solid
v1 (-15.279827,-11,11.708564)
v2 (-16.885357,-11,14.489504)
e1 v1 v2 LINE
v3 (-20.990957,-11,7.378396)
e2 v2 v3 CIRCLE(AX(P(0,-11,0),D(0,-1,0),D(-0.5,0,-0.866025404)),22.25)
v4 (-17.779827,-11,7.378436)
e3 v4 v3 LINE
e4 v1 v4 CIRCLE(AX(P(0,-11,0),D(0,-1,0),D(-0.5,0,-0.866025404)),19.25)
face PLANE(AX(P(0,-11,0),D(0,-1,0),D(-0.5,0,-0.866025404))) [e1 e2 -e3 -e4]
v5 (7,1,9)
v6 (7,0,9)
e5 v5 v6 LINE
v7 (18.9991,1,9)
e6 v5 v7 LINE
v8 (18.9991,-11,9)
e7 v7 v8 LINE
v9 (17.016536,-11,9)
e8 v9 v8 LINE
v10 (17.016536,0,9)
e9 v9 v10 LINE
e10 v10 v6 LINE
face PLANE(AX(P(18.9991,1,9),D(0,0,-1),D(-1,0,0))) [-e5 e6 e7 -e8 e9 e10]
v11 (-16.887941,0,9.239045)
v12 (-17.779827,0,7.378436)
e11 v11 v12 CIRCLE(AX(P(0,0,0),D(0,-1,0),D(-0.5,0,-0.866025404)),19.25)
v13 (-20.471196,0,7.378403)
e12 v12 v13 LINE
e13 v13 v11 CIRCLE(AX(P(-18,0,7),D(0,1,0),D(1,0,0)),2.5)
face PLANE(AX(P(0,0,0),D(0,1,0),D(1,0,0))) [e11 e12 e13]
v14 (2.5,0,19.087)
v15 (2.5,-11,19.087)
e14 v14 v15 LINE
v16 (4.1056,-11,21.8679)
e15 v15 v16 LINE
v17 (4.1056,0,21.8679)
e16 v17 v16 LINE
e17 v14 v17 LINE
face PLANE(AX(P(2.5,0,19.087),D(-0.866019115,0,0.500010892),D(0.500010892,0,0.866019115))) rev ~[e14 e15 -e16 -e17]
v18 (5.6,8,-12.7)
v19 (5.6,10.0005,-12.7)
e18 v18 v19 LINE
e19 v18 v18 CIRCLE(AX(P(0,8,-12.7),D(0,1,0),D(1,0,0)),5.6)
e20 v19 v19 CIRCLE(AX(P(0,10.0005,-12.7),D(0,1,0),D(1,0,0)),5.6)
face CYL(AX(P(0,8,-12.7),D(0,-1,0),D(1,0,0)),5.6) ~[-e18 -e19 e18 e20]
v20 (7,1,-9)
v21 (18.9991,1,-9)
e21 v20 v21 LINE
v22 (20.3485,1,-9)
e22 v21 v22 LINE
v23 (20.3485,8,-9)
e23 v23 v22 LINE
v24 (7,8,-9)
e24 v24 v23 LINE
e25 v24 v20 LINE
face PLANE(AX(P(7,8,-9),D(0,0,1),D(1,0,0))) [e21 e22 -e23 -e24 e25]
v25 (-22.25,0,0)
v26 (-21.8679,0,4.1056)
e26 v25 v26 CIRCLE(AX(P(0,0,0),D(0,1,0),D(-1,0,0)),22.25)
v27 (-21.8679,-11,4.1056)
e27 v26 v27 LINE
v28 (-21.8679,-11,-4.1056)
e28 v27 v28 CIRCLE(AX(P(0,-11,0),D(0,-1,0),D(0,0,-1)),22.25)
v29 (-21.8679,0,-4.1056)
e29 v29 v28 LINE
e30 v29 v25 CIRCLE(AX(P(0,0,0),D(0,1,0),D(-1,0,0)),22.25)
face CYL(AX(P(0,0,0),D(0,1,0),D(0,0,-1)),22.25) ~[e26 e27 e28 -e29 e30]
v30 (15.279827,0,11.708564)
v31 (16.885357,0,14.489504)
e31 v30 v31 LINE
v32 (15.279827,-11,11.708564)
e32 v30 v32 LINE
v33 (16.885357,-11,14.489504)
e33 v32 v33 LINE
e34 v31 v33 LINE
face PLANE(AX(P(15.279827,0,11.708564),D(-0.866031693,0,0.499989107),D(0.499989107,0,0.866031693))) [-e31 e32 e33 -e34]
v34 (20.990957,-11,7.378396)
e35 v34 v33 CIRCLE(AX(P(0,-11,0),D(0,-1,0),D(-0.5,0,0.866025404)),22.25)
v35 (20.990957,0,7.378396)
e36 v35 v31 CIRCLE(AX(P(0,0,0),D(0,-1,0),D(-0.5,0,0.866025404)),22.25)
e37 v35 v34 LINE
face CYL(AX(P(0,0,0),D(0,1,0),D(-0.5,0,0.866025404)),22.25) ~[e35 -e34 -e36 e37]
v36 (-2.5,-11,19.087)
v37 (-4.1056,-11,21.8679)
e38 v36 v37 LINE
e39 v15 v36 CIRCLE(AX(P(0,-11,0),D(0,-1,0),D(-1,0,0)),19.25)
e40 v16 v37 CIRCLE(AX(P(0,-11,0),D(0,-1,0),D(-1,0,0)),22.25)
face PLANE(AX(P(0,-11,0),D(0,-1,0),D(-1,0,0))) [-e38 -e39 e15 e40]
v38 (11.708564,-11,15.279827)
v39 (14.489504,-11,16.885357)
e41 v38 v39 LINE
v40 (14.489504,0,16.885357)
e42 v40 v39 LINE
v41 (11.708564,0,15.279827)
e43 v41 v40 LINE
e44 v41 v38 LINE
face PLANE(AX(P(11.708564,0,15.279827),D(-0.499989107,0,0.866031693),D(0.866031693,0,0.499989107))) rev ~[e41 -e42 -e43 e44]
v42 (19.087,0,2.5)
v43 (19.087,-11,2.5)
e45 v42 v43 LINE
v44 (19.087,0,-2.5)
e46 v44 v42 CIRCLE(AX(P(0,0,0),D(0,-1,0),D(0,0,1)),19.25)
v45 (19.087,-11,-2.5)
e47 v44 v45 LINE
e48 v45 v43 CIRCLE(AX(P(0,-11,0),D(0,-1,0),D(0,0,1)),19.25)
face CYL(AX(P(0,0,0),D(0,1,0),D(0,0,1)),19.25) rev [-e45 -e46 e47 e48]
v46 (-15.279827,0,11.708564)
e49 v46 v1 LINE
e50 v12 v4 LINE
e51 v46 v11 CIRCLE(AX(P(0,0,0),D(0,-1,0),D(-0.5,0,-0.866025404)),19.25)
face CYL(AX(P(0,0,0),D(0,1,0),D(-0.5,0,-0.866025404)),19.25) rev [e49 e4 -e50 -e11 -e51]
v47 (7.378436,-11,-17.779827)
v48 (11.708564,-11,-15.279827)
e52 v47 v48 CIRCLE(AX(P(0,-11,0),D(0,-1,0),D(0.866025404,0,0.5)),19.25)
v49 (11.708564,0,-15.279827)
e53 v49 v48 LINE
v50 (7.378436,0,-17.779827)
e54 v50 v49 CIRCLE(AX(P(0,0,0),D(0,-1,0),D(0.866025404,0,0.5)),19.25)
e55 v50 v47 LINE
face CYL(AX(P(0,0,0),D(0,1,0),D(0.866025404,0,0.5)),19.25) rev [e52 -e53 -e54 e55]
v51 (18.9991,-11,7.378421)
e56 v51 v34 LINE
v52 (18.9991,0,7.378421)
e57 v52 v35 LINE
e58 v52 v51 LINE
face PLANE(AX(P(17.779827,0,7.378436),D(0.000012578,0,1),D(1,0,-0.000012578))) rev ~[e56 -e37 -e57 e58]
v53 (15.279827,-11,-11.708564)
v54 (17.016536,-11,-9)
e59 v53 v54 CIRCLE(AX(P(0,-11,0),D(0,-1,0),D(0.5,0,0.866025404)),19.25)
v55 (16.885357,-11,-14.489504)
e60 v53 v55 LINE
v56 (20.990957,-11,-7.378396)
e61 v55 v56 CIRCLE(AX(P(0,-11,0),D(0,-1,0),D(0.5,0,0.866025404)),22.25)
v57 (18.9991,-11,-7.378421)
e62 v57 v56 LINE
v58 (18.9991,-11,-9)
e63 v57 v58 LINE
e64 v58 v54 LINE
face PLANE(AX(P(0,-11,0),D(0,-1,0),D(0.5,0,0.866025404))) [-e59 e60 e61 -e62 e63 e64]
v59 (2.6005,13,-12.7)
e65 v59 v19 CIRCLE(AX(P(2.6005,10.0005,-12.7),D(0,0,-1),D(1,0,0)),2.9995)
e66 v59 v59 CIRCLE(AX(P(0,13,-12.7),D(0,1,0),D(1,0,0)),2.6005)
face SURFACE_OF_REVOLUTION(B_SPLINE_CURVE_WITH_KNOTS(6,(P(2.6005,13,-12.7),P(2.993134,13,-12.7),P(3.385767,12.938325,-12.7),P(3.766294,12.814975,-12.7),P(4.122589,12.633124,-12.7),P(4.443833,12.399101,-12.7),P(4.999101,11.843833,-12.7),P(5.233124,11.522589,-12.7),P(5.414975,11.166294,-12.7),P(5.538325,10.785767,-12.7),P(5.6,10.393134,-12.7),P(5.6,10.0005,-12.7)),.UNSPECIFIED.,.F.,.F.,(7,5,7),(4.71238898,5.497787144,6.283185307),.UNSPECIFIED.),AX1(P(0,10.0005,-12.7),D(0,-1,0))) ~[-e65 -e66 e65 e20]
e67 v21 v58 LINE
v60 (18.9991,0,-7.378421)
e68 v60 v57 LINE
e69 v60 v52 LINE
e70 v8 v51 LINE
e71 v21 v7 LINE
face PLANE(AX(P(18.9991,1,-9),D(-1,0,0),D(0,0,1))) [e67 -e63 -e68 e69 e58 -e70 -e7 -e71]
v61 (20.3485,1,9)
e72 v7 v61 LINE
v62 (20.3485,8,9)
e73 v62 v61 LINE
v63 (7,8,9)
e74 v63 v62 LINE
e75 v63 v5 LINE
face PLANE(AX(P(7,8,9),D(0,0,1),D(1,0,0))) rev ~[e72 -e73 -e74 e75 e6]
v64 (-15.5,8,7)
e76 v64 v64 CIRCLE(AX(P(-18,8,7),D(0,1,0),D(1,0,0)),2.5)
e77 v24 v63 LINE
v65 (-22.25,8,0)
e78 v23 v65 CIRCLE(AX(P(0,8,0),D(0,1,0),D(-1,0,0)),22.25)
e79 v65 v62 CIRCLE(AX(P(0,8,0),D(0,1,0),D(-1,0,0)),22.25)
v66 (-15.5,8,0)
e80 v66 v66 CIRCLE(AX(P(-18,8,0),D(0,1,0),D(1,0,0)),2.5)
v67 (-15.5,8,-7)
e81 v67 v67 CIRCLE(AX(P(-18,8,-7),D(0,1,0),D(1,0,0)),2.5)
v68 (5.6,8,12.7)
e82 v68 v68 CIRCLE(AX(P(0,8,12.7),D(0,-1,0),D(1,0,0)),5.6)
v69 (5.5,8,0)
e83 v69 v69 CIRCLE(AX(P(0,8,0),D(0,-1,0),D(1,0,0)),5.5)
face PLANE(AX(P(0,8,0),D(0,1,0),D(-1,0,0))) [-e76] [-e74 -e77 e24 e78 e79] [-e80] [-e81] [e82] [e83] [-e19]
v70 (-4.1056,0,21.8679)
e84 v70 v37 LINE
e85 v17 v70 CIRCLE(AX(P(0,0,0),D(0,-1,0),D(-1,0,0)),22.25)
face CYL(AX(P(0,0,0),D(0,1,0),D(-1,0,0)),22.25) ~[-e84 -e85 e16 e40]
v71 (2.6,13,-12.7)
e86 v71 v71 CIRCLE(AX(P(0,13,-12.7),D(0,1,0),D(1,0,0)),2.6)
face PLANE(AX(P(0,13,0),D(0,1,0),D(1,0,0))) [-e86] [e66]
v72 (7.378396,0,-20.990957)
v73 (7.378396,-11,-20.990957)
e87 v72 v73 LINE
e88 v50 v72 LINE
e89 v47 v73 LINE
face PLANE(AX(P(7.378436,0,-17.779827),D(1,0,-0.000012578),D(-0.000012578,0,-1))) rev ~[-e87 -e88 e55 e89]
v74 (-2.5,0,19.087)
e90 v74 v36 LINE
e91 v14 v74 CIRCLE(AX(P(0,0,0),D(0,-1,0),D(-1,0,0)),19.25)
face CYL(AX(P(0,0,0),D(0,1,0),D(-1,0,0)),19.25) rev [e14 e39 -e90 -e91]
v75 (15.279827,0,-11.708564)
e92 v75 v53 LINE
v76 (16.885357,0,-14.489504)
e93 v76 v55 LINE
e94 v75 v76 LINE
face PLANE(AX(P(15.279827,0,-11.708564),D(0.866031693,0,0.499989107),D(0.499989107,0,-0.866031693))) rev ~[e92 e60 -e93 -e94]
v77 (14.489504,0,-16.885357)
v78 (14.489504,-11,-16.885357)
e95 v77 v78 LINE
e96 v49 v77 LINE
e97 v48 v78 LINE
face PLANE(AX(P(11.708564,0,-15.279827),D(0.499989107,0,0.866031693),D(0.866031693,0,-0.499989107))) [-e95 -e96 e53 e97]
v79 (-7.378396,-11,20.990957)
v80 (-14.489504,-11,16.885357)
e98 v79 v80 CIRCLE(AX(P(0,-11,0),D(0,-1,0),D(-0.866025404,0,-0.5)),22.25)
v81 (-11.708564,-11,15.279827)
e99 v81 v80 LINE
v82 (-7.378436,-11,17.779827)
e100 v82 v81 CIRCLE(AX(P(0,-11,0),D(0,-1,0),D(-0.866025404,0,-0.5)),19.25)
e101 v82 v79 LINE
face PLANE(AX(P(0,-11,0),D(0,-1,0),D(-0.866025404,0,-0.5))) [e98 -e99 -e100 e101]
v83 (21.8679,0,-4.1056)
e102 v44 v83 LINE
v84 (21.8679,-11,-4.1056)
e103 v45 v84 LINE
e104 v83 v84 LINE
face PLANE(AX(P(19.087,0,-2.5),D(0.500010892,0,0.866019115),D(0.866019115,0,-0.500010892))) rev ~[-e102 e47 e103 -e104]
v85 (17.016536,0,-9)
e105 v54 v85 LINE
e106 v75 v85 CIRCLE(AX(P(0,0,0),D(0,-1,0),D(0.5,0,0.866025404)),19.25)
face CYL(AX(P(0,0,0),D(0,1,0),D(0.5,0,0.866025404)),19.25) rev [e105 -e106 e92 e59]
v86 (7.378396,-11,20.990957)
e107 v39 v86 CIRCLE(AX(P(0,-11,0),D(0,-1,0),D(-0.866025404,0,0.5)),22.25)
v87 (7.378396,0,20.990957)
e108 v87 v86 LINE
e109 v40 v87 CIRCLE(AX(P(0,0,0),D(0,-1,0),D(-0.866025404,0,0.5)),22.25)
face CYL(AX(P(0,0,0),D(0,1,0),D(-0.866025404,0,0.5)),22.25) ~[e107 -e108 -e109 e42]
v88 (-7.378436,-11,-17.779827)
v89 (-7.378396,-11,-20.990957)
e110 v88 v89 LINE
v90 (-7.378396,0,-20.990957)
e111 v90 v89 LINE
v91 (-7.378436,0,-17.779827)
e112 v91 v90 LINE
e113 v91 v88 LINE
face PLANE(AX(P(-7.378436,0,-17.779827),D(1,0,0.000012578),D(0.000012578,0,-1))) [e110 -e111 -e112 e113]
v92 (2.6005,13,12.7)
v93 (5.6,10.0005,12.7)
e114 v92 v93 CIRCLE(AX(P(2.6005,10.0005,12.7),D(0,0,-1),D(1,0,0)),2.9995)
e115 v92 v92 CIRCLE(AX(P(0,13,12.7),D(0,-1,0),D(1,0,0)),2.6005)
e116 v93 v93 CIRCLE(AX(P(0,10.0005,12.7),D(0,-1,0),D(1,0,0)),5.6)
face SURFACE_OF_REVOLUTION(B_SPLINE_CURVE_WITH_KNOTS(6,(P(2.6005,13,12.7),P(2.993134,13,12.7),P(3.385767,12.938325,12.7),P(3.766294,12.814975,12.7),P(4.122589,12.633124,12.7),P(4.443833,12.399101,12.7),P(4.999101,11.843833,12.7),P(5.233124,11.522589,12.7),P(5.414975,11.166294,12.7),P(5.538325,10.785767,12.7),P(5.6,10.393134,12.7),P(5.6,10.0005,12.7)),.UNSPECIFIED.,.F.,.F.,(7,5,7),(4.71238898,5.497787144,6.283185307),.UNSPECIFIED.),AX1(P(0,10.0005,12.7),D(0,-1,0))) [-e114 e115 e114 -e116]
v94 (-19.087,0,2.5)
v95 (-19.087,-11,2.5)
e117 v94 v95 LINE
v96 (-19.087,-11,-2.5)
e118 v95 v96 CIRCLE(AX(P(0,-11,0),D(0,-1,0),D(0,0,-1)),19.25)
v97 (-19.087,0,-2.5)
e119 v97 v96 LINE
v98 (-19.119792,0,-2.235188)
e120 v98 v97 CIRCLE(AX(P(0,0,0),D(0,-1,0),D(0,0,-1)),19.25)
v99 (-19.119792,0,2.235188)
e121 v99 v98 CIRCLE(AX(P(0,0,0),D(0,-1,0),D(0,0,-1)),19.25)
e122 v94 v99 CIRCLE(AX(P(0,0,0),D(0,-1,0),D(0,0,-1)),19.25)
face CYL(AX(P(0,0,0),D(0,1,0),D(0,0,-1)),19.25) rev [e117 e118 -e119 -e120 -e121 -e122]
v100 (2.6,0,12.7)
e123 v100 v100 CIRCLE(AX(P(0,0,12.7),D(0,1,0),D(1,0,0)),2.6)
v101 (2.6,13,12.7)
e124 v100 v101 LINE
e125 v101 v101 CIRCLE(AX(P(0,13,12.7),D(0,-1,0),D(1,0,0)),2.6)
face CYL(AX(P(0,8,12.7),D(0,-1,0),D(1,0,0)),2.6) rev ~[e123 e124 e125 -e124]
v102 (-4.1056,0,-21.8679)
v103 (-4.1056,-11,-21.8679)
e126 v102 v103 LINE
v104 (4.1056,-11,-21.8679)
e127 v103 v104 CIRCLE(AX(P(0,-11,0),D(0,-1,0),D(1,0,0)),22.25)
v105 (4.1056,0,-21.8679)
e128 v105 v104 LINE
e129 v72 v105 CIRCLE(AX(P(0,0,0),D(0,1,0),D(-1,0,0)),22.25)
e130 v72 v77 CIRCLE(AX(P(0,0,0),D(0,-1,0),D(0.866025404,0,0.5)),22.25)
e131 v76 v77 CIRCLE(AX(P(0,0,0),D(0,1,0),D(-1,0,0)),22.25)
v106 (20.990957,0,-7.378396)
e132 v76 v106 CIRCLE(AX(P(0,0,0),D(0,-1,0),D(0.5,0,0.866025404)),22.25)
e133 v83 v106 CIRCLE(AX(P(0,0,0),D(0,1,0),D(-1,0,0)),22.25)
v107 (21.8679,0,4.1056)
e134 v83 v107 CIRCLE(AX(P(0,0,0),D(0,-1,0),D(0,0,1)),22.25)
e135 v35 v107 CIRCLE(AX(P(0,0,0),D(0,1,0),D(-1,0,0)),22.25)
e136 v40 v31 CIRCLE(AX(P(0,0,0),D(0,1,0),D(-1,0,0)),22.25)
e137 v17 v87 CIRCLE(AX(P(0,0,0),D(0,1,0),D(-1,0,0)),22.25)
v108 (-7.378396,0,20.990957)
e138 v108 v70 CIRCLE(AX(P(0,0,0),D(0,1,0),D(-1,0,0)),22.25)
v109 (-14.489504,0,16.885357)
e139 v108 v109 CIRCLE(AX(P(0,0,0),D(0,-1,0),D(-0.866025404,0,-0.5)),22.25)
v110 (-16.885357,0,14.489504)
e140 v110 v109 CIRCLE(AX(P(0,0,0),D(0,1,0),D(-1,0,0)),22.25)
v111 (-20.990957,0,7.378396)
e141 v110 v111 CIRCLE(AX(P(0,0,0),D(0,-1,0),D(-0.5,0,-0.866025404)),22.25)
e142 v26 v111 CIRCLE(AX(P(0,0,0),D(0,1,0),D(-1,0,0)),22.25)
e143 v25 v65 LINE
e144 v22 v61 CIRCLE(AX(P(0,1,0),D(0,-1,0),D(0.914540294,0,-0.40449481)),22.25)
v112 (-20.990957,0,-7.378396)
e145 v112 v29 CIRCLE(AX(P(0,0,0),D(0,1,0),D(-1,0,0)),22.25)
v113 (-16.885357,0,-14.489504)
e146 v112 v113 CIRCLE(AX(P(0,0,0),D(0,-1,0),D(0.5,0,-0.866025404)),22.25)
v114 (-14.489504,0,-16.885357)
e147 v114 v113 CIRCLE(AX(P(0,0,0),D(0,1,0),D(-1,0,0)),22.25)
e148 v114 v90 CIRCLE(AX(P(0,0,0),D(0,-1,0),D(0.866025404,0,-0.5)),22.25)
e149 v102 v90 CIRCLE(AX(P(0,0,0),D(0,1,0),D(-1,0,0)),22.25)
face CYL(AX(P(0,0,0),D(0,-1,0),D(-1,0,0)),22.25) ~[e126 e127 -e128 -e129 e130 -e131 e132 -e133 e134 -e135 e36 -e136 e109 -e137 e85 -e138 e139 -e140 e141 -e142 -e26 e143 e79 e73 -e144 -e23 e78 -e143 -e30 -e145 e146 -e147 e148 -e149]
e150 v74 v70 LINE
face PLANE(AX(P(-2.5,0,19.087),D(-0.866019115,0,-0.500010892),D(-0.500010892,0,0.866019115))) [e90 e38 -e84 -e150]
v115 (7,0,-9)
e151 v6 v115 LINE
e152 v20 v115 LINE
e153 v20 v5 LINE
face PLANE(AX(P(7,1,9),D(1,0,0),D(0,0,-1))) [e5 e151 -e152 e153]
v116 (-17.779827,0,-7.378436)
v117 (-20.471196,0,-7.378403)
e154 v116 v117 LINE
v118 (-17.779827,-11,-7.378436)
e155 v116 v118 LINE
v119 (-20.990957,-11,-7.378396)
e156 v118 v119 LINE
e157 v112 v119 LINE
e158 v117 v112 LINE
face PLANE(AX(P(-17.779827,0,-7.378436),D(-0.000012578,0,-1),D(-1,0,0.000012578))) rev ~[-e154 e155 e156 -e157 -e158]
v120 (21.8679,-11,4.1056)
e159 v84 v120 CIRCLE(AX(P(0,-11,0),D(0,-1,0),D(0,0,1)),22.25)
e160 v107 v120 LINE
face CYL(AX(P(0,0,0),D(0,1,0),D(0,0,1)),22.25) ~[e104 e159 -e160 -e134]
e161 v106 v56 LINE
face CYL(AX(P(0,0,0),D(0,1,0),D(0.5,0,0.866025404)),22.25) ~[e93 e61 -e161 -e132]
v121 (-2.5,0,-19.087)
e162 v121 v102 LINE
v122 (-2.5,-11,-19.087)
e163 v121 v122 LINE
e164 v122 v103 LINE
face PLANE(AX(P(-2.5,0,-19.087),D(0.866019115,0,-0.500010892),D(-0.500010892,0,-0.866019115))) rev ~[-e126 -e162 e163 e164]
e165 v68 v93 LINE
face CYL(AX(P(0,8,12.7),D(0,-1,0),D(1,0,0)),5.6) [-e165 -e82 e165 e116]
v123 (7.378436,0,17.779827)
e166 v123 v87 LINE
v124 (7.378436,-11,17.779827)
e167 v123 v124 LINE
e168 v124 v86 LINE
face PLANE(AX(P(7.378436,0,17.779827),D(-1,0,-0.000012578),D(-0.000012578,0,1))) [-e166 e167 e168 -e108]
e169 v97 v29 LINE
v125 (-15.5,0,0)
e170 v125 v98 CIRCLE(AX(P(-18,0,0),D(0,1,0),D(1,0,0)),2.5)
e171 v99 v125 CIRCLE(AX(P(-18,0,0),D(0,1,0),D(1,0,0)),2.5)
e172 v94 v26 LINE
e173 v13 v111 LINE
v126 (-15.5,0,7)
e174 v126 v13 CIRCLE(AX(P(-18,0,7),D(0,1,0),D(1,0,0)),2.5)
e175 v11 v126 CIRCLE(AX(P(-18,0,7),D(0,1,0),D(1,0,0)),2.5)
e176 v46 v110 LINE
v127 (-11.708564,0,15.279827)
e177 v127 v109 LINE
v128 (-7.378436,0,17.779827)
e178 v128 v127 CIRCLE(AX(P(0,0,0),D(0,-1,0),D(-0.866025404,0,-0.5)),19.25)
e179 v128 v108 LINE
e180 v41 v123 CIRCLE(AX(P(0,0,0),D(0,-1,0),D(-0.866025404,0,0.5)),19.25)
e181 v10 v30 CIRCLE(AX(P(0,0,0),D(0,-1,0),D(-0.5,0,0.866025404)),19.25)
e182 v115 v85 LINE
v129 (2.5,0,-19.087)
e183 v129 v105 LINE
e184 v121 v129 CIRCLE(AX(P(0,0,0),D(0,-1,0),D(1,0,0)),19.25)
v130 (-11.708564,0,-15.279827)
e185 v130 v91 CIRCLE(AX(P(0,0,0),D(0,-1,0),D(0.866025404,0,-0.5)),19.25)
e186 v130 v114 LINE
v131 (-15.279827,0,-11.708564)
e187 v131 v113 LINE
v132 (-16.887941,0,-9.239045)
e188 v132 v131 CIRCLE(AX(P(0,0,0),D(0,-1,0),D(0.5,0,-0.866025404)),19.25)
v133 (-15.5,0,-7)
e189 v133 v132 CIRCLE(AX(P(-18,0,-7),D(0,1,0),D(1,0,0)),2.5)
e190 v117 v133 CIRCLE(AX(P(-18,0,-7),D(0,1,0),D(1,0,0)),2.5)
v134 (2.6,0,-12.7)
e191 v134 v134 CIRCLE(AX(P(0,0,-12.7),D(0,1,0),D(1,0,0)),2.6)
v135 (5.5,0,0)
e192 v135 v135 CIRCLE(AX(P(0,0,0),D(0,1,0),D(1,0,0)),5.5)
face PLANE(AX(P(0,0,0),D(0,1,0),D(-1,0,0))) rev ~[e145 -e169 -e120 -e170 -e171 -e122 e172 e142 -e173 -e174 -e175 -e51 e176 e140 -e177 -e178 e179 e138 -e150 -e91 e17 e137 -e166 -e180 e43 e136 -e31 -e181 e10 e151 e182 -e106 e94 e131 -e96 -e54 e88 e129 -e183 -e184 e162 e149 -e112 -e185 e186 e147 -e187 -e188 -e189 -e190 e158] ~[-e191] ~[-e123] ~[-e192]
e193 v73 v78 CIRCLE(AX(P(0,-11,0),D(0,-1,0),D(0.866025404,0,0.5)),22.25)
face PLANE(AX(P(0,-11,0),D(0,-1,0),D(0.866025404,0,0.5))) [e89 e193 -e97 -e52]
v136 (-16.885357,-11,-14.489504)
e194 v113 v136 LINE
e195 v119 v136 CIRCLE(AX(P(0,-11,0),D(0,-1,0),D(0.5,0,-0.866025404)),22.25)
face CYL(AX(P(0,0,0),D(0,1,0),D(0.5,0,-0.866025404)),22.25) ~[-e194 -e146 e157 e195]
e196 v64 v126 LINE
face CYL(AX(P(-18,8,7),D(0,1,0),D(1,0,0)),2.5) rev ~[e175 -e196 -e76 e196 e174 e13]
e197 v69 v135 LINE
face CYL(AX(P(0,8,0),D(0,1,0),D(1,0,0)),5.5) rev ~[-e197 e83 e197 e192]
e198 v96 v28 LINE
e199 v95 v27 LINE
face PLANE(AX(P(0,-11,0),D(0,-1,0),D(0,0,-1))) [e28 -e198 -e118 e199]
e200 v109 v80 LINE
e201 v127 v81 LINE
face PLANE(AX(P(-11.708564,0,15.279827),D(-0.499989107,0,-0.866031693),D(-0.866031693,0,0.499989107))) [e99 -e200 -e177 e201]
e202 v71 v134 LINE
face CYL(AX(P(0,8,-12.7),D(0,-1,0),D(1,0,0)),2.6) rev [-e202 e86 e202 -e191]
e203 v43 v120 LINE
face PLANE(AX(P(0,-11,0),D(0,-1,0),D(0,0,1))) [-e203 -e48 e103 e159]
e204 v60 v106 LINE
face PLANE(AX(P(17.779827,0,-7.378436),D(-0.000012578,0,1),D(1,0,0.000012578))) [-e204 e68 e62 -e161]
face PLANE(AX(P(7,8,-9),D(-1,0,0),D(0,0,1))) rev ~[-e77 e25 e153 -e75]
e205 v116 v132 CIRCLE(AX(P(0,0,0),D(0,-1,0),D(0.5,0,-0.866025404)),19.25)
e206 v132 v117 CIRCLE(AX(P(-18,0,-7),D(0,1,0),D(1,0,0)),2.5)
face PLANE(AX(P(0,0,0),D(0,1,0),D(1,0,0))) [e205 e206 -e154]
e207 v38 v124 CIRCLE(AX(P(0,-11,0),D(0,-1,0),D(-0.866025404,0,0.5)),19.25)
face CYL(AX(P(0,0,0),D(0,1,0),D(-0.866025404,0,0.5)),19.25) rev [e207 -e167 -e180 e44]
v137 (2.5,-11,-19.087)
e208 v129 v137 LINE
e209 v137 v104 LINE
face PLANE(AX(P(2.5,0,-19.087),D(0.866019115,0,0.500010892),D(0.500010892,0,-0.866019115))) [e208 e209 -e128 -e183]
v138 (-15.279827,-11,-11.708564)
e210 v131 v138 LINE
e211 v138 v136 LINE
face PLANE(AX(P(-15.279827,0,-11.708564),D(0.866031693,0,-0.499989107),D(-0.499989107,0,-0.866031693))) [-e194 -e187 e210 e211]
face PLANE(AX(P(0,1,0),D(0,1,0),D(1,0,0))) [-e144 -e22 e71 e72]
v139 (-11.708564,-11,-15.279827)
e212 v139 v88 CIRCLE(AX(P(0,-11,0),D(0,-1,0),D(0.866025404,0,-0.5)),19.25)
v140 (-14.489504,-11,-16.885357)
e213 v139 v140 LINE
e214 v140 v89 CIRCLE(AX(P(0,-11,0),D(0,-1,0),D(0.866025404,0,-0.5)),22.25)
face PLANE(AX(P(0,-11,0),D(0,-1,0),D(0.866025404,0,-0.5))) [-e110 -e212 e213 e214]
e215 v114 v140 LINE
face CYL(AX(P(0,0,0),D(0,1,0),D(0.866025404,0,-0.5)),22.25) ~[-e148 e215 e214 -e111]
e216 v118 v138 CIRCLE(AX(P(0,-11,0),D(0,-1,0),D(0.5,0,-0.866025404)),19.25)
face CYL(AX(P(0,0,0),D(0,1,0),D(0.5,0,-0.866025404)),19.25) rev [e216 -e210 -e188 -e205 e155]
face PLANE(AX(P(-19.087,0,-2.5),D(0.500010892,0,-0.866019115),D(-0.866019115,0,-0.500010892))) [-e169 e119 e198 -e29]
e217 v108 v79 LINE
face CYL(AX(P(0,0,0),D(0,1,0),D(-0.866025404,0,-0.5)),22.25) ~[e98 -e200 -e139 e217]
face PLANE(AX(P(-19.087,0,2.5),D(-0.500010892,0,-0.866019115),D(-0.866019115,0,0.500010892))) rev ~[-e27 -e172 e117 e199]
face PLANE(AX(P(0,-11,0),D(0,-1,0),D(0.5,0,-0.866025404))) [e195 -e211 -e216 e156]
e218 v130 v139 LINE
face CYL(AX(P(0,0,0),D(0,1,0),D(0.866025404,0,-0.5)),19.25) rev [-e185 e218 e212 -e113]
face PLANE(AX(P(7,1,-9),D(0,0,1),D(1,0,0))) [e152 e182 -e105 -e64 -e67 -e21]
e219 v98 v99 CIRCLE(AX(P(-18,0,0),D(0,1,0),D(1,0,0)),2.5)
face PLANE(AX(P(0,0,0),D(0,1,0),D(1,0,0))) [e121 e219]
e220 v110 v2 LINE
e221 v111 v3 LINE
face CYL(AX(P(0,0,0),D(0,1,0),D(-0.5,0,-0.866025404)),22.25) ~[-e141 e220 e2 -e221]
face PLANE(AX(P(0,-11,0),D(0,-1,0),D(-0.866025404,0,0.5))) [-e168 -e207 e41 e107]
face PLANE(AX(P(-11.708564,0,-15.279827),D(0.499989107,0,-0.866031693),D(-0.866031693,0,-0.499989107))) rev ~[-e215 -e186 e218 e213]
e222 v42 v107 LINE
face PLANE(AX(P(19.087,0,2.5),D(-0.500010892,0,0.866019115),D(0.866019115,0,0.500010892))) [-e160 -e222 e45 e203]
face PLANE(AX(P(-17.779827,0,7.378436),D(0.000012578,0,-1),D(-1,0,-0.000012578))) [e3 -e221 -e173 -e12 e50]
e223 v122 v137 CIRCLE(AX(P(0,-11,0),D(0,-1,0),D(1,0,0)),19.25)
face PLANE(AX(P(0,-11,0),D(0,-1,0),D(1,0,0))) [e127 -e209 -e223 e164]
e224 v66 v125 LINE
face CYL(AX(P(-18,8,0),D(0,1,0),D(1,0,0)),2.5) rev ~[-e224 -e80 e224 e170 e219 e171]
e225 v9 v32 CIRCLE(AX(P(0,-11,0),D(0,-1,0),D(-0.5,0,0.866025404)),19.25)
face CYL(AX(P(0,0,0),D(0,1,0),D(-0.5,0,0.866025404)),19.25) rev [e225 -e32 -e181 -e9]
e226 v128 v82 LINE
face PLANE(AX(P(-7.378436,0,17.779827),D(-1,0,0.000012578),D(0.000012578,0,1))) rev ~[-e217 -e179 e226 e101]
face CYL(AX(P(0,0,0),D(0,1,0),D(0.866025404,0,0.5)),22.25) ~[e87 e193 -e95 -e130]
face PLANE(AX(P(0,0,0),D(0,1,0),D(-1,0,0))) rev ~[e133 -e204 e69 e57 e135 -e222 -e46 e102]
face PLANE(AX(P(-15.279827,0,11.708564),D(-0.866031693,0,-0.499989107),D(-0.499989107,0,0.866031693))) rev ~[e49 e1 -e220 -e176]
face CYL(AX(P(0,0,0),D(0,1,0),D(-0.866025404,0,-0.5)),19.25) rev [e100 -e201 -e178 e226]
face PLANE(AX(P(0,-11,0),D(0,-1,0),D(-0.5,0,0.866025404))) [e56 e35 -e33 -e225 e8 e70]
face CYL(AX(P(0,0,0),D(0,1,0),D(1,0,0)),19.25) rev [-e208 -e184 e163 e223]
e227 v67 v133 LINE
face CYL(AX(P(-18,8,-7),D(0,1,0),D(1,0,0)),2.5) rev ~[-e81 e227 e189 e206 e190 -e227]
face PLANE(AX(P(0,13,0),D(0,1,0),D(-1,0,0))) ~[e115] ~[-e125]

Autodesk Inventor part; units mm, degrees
ref_plane "YZ Plane" through (0, 0, 0) normal (1, 0, 0) x (0, 1, 0)
ref_plane "XZ Plane" through (0, 0, 0) normal (0, 1, 0) x (-1, 0, 0)
ref_plane "XY Plane" through (0, 0, 0) normal (0, 0, 1) x (1, 0, 0)
sketch "Sketch1" plane through (0, 0, 0) normal (0, 1, 0) x (-1, 0, 0)
  circle A0 centre (0, 0) radius 22.25
  dimension "d0" = 44.5
extrude "Extrusion1" add sketch "Sketch1" along normal blind 8
sketch "Sketch2" plane through (0, 8, 0) normal (0, 1, 0) x (1, 0, 0)
  circle A0 centre (0, 12.7) radius 2.6
  circle A1 centre (0, -12.7) radius 2.6
  point P0 (0, 0)
  dimension "d3" = 5.2
  dimension "d4" = 12.7
  dimension "d5" = 5.2
  dimension "d6" = 12.7
extrude "Extrusion2" cut sketch "Sketch2" against normal up to surface (8 mm away)
sketch "Sketch3" plane through (0, 8, 0) normal (0, 1, 0) x (1, 0, 0)
  circle A0 centre (0, 12.7) radius 2.6 projected
  circle A1 centre (0, 12.7) radius 2.6
  circle A2 centre (0, 12.7) radius 5.6
  point P0 (0, 0)
  dimension "d9" = 3
extrude "Extrusion3" add sketch "Sketch3" along normal blind 5
mirror "Mirror1" about plane through (0, 0, 0) normal (0, 0, 1) of "Extrusion3"
sketch "Sketch4" plane through (0, 0, 0) normal (0, -1, 0) x (1, 0, 0)
  circle A0 centre (0, 0) radius 22.25 projected
  circle A1 centre (0, 0) radius 19.25
  circle A2 centre (0, 0) radius 22.25
  line L0 (2.5, -19.087) -> (-2.5, -19.087) construction
  line L1 (2.5, -19.087) -> (7.5, -19.087) construction
  line L2 (-2.5, -19.087) -> (-4.1056, -21.8679)
  line L3 (-2.5, -19.087) -> (0.7112, -19.087) construction
  line L4 (2.5, -19.087) -> (4.1056, -21.8679)
  line L5 (2.5, -19.087) -> (5.7112, -19.087) construction
  point P0 (4.1056, -21.8679)
  point P1 (-4.1056, -21.8679)
  dimension "d17" = 3
  dimension "d18" = 5
  dimension "d19" = 180
  dimension "d20" = 120
  dimension "d21" = 60
extrude "Extrusion5" add sketch "Sketch4" along normal blind 11 contours L2 A1 L4 A0 picked at (0.2785, -21.2156)
pattern_circular "Circular Pattern1" count 12 over 360 about axis through (0, -10, 0) along (0, 1, 0) of "Extrusion5"
fillet "Fillet1" radius 3 2 edges at (-5.6, 13, -12.7) (-5.6, 13, 12.7)
sketch "Sketch6" plane through (0, 8, 0) normal (0, 1, 0) x (1, 0, 0)
  circle A0 centre (0, 0) radius 22.25 projected
  circle A1 centre (0, 0) radius 22.25
  line L0 (7, 9) -> (7, -9)
  line L1 (7, 9) -> (25, 9) construction
  line L2 (7, 9) -> (20.3485, 9)
  line L3 (7, -9) -> (20.3485, -9)
  point P0 (7, 0)
  dimension "d29" = 18
  dimension "d30" = 90
  dimension "d56" = 7
extrude "Extrusion6" cut sketch "Sketch6" against normal blind 7 contours A0 L3 L0 L2 picked at (12.0833, 0)
sketch "Sketch7" plane through (0, 8, 0) normal (0, 1, 0) x (1, 0, 0)
  circle A0 centre (0, 0) radius 19.25 construction
  arc A1 (20.3485, 9) -> (20.3485, -9) centre (0, 0) ccw construction
  circle A2 centre (3, 7) radius 2.5
  arc A3 (4.1056, 21.8679) -> (-4.1056, 21.8679) centre (0, 0) ccw construction
  line L0 (0, 22.25) -> (0, -22.25) construction
  arc A4 (-4.1056, -21.8679) -> (4.1056, -21.8679) centre (0, 0) ccw construction
  line L1 (22.25, 0) -> (-22.25, 0) construction
  arc A5 (-21.8679, 4.1056) -> (-21.8679, -4.1056) centre (0, 0) ccw construction
  line L2 (7, -9) -> (7, 9) construction
  circle A6 centre (3, 0) radius 2.5
  circle A7 centre (3, -7) radius 2.5
  circle A8 centre (0, 0) radius 5.5
  circle A9 centre (-18, 7) radius 2.5
  circle A10 centre (-18, 0) radius 2.5
  circle A11 centre (-18, -7) radius 2.5
  dimension "d34" = 3
  dimension "d35" = 5
  dimension "d36" = 4
  dimension "d39" = 7
  dimension "d44" = 11
  dimension "d45" = 5
  dimension "d48" = 7
  dimension "d53" = 21
extrude "Extrusion7" cut sketch "Sketch7" against normal up to surface (8 mm away) contours A8 A2 | A6 | A2 A8 A7 | A7 A8 | A9 | A10 | A11 picked at (2.1127, 4.9296) picked at (2.1127, -4.9296)
sketch "Sketch9" plane through (0, 1, 0) normal (0, 1, 0) x (1, 0, 0)
  line L0 (7, -9) -> (7, 9) projected
  line L1 (20.3485, -9) -> (7, -9) projected
  line L2 (7, 9) -> (18.9991, 9)
  line L3 (18.9991, 9) -> (18.9991, -9)
  line L4 (18.9991, -9) -> (7, -9)
  line L5 (7, -9) -> (7, 9)
  point P0 (0, 0)
extrude "Extrusion8" cut sketch "Sketch9" against normal through all
equation "\"d5\" = d3"
equation "\"d6\" = d4"
equation "\"d34\" = d17"
equation "\"d45\" = d35"
properties part number "spacer"
